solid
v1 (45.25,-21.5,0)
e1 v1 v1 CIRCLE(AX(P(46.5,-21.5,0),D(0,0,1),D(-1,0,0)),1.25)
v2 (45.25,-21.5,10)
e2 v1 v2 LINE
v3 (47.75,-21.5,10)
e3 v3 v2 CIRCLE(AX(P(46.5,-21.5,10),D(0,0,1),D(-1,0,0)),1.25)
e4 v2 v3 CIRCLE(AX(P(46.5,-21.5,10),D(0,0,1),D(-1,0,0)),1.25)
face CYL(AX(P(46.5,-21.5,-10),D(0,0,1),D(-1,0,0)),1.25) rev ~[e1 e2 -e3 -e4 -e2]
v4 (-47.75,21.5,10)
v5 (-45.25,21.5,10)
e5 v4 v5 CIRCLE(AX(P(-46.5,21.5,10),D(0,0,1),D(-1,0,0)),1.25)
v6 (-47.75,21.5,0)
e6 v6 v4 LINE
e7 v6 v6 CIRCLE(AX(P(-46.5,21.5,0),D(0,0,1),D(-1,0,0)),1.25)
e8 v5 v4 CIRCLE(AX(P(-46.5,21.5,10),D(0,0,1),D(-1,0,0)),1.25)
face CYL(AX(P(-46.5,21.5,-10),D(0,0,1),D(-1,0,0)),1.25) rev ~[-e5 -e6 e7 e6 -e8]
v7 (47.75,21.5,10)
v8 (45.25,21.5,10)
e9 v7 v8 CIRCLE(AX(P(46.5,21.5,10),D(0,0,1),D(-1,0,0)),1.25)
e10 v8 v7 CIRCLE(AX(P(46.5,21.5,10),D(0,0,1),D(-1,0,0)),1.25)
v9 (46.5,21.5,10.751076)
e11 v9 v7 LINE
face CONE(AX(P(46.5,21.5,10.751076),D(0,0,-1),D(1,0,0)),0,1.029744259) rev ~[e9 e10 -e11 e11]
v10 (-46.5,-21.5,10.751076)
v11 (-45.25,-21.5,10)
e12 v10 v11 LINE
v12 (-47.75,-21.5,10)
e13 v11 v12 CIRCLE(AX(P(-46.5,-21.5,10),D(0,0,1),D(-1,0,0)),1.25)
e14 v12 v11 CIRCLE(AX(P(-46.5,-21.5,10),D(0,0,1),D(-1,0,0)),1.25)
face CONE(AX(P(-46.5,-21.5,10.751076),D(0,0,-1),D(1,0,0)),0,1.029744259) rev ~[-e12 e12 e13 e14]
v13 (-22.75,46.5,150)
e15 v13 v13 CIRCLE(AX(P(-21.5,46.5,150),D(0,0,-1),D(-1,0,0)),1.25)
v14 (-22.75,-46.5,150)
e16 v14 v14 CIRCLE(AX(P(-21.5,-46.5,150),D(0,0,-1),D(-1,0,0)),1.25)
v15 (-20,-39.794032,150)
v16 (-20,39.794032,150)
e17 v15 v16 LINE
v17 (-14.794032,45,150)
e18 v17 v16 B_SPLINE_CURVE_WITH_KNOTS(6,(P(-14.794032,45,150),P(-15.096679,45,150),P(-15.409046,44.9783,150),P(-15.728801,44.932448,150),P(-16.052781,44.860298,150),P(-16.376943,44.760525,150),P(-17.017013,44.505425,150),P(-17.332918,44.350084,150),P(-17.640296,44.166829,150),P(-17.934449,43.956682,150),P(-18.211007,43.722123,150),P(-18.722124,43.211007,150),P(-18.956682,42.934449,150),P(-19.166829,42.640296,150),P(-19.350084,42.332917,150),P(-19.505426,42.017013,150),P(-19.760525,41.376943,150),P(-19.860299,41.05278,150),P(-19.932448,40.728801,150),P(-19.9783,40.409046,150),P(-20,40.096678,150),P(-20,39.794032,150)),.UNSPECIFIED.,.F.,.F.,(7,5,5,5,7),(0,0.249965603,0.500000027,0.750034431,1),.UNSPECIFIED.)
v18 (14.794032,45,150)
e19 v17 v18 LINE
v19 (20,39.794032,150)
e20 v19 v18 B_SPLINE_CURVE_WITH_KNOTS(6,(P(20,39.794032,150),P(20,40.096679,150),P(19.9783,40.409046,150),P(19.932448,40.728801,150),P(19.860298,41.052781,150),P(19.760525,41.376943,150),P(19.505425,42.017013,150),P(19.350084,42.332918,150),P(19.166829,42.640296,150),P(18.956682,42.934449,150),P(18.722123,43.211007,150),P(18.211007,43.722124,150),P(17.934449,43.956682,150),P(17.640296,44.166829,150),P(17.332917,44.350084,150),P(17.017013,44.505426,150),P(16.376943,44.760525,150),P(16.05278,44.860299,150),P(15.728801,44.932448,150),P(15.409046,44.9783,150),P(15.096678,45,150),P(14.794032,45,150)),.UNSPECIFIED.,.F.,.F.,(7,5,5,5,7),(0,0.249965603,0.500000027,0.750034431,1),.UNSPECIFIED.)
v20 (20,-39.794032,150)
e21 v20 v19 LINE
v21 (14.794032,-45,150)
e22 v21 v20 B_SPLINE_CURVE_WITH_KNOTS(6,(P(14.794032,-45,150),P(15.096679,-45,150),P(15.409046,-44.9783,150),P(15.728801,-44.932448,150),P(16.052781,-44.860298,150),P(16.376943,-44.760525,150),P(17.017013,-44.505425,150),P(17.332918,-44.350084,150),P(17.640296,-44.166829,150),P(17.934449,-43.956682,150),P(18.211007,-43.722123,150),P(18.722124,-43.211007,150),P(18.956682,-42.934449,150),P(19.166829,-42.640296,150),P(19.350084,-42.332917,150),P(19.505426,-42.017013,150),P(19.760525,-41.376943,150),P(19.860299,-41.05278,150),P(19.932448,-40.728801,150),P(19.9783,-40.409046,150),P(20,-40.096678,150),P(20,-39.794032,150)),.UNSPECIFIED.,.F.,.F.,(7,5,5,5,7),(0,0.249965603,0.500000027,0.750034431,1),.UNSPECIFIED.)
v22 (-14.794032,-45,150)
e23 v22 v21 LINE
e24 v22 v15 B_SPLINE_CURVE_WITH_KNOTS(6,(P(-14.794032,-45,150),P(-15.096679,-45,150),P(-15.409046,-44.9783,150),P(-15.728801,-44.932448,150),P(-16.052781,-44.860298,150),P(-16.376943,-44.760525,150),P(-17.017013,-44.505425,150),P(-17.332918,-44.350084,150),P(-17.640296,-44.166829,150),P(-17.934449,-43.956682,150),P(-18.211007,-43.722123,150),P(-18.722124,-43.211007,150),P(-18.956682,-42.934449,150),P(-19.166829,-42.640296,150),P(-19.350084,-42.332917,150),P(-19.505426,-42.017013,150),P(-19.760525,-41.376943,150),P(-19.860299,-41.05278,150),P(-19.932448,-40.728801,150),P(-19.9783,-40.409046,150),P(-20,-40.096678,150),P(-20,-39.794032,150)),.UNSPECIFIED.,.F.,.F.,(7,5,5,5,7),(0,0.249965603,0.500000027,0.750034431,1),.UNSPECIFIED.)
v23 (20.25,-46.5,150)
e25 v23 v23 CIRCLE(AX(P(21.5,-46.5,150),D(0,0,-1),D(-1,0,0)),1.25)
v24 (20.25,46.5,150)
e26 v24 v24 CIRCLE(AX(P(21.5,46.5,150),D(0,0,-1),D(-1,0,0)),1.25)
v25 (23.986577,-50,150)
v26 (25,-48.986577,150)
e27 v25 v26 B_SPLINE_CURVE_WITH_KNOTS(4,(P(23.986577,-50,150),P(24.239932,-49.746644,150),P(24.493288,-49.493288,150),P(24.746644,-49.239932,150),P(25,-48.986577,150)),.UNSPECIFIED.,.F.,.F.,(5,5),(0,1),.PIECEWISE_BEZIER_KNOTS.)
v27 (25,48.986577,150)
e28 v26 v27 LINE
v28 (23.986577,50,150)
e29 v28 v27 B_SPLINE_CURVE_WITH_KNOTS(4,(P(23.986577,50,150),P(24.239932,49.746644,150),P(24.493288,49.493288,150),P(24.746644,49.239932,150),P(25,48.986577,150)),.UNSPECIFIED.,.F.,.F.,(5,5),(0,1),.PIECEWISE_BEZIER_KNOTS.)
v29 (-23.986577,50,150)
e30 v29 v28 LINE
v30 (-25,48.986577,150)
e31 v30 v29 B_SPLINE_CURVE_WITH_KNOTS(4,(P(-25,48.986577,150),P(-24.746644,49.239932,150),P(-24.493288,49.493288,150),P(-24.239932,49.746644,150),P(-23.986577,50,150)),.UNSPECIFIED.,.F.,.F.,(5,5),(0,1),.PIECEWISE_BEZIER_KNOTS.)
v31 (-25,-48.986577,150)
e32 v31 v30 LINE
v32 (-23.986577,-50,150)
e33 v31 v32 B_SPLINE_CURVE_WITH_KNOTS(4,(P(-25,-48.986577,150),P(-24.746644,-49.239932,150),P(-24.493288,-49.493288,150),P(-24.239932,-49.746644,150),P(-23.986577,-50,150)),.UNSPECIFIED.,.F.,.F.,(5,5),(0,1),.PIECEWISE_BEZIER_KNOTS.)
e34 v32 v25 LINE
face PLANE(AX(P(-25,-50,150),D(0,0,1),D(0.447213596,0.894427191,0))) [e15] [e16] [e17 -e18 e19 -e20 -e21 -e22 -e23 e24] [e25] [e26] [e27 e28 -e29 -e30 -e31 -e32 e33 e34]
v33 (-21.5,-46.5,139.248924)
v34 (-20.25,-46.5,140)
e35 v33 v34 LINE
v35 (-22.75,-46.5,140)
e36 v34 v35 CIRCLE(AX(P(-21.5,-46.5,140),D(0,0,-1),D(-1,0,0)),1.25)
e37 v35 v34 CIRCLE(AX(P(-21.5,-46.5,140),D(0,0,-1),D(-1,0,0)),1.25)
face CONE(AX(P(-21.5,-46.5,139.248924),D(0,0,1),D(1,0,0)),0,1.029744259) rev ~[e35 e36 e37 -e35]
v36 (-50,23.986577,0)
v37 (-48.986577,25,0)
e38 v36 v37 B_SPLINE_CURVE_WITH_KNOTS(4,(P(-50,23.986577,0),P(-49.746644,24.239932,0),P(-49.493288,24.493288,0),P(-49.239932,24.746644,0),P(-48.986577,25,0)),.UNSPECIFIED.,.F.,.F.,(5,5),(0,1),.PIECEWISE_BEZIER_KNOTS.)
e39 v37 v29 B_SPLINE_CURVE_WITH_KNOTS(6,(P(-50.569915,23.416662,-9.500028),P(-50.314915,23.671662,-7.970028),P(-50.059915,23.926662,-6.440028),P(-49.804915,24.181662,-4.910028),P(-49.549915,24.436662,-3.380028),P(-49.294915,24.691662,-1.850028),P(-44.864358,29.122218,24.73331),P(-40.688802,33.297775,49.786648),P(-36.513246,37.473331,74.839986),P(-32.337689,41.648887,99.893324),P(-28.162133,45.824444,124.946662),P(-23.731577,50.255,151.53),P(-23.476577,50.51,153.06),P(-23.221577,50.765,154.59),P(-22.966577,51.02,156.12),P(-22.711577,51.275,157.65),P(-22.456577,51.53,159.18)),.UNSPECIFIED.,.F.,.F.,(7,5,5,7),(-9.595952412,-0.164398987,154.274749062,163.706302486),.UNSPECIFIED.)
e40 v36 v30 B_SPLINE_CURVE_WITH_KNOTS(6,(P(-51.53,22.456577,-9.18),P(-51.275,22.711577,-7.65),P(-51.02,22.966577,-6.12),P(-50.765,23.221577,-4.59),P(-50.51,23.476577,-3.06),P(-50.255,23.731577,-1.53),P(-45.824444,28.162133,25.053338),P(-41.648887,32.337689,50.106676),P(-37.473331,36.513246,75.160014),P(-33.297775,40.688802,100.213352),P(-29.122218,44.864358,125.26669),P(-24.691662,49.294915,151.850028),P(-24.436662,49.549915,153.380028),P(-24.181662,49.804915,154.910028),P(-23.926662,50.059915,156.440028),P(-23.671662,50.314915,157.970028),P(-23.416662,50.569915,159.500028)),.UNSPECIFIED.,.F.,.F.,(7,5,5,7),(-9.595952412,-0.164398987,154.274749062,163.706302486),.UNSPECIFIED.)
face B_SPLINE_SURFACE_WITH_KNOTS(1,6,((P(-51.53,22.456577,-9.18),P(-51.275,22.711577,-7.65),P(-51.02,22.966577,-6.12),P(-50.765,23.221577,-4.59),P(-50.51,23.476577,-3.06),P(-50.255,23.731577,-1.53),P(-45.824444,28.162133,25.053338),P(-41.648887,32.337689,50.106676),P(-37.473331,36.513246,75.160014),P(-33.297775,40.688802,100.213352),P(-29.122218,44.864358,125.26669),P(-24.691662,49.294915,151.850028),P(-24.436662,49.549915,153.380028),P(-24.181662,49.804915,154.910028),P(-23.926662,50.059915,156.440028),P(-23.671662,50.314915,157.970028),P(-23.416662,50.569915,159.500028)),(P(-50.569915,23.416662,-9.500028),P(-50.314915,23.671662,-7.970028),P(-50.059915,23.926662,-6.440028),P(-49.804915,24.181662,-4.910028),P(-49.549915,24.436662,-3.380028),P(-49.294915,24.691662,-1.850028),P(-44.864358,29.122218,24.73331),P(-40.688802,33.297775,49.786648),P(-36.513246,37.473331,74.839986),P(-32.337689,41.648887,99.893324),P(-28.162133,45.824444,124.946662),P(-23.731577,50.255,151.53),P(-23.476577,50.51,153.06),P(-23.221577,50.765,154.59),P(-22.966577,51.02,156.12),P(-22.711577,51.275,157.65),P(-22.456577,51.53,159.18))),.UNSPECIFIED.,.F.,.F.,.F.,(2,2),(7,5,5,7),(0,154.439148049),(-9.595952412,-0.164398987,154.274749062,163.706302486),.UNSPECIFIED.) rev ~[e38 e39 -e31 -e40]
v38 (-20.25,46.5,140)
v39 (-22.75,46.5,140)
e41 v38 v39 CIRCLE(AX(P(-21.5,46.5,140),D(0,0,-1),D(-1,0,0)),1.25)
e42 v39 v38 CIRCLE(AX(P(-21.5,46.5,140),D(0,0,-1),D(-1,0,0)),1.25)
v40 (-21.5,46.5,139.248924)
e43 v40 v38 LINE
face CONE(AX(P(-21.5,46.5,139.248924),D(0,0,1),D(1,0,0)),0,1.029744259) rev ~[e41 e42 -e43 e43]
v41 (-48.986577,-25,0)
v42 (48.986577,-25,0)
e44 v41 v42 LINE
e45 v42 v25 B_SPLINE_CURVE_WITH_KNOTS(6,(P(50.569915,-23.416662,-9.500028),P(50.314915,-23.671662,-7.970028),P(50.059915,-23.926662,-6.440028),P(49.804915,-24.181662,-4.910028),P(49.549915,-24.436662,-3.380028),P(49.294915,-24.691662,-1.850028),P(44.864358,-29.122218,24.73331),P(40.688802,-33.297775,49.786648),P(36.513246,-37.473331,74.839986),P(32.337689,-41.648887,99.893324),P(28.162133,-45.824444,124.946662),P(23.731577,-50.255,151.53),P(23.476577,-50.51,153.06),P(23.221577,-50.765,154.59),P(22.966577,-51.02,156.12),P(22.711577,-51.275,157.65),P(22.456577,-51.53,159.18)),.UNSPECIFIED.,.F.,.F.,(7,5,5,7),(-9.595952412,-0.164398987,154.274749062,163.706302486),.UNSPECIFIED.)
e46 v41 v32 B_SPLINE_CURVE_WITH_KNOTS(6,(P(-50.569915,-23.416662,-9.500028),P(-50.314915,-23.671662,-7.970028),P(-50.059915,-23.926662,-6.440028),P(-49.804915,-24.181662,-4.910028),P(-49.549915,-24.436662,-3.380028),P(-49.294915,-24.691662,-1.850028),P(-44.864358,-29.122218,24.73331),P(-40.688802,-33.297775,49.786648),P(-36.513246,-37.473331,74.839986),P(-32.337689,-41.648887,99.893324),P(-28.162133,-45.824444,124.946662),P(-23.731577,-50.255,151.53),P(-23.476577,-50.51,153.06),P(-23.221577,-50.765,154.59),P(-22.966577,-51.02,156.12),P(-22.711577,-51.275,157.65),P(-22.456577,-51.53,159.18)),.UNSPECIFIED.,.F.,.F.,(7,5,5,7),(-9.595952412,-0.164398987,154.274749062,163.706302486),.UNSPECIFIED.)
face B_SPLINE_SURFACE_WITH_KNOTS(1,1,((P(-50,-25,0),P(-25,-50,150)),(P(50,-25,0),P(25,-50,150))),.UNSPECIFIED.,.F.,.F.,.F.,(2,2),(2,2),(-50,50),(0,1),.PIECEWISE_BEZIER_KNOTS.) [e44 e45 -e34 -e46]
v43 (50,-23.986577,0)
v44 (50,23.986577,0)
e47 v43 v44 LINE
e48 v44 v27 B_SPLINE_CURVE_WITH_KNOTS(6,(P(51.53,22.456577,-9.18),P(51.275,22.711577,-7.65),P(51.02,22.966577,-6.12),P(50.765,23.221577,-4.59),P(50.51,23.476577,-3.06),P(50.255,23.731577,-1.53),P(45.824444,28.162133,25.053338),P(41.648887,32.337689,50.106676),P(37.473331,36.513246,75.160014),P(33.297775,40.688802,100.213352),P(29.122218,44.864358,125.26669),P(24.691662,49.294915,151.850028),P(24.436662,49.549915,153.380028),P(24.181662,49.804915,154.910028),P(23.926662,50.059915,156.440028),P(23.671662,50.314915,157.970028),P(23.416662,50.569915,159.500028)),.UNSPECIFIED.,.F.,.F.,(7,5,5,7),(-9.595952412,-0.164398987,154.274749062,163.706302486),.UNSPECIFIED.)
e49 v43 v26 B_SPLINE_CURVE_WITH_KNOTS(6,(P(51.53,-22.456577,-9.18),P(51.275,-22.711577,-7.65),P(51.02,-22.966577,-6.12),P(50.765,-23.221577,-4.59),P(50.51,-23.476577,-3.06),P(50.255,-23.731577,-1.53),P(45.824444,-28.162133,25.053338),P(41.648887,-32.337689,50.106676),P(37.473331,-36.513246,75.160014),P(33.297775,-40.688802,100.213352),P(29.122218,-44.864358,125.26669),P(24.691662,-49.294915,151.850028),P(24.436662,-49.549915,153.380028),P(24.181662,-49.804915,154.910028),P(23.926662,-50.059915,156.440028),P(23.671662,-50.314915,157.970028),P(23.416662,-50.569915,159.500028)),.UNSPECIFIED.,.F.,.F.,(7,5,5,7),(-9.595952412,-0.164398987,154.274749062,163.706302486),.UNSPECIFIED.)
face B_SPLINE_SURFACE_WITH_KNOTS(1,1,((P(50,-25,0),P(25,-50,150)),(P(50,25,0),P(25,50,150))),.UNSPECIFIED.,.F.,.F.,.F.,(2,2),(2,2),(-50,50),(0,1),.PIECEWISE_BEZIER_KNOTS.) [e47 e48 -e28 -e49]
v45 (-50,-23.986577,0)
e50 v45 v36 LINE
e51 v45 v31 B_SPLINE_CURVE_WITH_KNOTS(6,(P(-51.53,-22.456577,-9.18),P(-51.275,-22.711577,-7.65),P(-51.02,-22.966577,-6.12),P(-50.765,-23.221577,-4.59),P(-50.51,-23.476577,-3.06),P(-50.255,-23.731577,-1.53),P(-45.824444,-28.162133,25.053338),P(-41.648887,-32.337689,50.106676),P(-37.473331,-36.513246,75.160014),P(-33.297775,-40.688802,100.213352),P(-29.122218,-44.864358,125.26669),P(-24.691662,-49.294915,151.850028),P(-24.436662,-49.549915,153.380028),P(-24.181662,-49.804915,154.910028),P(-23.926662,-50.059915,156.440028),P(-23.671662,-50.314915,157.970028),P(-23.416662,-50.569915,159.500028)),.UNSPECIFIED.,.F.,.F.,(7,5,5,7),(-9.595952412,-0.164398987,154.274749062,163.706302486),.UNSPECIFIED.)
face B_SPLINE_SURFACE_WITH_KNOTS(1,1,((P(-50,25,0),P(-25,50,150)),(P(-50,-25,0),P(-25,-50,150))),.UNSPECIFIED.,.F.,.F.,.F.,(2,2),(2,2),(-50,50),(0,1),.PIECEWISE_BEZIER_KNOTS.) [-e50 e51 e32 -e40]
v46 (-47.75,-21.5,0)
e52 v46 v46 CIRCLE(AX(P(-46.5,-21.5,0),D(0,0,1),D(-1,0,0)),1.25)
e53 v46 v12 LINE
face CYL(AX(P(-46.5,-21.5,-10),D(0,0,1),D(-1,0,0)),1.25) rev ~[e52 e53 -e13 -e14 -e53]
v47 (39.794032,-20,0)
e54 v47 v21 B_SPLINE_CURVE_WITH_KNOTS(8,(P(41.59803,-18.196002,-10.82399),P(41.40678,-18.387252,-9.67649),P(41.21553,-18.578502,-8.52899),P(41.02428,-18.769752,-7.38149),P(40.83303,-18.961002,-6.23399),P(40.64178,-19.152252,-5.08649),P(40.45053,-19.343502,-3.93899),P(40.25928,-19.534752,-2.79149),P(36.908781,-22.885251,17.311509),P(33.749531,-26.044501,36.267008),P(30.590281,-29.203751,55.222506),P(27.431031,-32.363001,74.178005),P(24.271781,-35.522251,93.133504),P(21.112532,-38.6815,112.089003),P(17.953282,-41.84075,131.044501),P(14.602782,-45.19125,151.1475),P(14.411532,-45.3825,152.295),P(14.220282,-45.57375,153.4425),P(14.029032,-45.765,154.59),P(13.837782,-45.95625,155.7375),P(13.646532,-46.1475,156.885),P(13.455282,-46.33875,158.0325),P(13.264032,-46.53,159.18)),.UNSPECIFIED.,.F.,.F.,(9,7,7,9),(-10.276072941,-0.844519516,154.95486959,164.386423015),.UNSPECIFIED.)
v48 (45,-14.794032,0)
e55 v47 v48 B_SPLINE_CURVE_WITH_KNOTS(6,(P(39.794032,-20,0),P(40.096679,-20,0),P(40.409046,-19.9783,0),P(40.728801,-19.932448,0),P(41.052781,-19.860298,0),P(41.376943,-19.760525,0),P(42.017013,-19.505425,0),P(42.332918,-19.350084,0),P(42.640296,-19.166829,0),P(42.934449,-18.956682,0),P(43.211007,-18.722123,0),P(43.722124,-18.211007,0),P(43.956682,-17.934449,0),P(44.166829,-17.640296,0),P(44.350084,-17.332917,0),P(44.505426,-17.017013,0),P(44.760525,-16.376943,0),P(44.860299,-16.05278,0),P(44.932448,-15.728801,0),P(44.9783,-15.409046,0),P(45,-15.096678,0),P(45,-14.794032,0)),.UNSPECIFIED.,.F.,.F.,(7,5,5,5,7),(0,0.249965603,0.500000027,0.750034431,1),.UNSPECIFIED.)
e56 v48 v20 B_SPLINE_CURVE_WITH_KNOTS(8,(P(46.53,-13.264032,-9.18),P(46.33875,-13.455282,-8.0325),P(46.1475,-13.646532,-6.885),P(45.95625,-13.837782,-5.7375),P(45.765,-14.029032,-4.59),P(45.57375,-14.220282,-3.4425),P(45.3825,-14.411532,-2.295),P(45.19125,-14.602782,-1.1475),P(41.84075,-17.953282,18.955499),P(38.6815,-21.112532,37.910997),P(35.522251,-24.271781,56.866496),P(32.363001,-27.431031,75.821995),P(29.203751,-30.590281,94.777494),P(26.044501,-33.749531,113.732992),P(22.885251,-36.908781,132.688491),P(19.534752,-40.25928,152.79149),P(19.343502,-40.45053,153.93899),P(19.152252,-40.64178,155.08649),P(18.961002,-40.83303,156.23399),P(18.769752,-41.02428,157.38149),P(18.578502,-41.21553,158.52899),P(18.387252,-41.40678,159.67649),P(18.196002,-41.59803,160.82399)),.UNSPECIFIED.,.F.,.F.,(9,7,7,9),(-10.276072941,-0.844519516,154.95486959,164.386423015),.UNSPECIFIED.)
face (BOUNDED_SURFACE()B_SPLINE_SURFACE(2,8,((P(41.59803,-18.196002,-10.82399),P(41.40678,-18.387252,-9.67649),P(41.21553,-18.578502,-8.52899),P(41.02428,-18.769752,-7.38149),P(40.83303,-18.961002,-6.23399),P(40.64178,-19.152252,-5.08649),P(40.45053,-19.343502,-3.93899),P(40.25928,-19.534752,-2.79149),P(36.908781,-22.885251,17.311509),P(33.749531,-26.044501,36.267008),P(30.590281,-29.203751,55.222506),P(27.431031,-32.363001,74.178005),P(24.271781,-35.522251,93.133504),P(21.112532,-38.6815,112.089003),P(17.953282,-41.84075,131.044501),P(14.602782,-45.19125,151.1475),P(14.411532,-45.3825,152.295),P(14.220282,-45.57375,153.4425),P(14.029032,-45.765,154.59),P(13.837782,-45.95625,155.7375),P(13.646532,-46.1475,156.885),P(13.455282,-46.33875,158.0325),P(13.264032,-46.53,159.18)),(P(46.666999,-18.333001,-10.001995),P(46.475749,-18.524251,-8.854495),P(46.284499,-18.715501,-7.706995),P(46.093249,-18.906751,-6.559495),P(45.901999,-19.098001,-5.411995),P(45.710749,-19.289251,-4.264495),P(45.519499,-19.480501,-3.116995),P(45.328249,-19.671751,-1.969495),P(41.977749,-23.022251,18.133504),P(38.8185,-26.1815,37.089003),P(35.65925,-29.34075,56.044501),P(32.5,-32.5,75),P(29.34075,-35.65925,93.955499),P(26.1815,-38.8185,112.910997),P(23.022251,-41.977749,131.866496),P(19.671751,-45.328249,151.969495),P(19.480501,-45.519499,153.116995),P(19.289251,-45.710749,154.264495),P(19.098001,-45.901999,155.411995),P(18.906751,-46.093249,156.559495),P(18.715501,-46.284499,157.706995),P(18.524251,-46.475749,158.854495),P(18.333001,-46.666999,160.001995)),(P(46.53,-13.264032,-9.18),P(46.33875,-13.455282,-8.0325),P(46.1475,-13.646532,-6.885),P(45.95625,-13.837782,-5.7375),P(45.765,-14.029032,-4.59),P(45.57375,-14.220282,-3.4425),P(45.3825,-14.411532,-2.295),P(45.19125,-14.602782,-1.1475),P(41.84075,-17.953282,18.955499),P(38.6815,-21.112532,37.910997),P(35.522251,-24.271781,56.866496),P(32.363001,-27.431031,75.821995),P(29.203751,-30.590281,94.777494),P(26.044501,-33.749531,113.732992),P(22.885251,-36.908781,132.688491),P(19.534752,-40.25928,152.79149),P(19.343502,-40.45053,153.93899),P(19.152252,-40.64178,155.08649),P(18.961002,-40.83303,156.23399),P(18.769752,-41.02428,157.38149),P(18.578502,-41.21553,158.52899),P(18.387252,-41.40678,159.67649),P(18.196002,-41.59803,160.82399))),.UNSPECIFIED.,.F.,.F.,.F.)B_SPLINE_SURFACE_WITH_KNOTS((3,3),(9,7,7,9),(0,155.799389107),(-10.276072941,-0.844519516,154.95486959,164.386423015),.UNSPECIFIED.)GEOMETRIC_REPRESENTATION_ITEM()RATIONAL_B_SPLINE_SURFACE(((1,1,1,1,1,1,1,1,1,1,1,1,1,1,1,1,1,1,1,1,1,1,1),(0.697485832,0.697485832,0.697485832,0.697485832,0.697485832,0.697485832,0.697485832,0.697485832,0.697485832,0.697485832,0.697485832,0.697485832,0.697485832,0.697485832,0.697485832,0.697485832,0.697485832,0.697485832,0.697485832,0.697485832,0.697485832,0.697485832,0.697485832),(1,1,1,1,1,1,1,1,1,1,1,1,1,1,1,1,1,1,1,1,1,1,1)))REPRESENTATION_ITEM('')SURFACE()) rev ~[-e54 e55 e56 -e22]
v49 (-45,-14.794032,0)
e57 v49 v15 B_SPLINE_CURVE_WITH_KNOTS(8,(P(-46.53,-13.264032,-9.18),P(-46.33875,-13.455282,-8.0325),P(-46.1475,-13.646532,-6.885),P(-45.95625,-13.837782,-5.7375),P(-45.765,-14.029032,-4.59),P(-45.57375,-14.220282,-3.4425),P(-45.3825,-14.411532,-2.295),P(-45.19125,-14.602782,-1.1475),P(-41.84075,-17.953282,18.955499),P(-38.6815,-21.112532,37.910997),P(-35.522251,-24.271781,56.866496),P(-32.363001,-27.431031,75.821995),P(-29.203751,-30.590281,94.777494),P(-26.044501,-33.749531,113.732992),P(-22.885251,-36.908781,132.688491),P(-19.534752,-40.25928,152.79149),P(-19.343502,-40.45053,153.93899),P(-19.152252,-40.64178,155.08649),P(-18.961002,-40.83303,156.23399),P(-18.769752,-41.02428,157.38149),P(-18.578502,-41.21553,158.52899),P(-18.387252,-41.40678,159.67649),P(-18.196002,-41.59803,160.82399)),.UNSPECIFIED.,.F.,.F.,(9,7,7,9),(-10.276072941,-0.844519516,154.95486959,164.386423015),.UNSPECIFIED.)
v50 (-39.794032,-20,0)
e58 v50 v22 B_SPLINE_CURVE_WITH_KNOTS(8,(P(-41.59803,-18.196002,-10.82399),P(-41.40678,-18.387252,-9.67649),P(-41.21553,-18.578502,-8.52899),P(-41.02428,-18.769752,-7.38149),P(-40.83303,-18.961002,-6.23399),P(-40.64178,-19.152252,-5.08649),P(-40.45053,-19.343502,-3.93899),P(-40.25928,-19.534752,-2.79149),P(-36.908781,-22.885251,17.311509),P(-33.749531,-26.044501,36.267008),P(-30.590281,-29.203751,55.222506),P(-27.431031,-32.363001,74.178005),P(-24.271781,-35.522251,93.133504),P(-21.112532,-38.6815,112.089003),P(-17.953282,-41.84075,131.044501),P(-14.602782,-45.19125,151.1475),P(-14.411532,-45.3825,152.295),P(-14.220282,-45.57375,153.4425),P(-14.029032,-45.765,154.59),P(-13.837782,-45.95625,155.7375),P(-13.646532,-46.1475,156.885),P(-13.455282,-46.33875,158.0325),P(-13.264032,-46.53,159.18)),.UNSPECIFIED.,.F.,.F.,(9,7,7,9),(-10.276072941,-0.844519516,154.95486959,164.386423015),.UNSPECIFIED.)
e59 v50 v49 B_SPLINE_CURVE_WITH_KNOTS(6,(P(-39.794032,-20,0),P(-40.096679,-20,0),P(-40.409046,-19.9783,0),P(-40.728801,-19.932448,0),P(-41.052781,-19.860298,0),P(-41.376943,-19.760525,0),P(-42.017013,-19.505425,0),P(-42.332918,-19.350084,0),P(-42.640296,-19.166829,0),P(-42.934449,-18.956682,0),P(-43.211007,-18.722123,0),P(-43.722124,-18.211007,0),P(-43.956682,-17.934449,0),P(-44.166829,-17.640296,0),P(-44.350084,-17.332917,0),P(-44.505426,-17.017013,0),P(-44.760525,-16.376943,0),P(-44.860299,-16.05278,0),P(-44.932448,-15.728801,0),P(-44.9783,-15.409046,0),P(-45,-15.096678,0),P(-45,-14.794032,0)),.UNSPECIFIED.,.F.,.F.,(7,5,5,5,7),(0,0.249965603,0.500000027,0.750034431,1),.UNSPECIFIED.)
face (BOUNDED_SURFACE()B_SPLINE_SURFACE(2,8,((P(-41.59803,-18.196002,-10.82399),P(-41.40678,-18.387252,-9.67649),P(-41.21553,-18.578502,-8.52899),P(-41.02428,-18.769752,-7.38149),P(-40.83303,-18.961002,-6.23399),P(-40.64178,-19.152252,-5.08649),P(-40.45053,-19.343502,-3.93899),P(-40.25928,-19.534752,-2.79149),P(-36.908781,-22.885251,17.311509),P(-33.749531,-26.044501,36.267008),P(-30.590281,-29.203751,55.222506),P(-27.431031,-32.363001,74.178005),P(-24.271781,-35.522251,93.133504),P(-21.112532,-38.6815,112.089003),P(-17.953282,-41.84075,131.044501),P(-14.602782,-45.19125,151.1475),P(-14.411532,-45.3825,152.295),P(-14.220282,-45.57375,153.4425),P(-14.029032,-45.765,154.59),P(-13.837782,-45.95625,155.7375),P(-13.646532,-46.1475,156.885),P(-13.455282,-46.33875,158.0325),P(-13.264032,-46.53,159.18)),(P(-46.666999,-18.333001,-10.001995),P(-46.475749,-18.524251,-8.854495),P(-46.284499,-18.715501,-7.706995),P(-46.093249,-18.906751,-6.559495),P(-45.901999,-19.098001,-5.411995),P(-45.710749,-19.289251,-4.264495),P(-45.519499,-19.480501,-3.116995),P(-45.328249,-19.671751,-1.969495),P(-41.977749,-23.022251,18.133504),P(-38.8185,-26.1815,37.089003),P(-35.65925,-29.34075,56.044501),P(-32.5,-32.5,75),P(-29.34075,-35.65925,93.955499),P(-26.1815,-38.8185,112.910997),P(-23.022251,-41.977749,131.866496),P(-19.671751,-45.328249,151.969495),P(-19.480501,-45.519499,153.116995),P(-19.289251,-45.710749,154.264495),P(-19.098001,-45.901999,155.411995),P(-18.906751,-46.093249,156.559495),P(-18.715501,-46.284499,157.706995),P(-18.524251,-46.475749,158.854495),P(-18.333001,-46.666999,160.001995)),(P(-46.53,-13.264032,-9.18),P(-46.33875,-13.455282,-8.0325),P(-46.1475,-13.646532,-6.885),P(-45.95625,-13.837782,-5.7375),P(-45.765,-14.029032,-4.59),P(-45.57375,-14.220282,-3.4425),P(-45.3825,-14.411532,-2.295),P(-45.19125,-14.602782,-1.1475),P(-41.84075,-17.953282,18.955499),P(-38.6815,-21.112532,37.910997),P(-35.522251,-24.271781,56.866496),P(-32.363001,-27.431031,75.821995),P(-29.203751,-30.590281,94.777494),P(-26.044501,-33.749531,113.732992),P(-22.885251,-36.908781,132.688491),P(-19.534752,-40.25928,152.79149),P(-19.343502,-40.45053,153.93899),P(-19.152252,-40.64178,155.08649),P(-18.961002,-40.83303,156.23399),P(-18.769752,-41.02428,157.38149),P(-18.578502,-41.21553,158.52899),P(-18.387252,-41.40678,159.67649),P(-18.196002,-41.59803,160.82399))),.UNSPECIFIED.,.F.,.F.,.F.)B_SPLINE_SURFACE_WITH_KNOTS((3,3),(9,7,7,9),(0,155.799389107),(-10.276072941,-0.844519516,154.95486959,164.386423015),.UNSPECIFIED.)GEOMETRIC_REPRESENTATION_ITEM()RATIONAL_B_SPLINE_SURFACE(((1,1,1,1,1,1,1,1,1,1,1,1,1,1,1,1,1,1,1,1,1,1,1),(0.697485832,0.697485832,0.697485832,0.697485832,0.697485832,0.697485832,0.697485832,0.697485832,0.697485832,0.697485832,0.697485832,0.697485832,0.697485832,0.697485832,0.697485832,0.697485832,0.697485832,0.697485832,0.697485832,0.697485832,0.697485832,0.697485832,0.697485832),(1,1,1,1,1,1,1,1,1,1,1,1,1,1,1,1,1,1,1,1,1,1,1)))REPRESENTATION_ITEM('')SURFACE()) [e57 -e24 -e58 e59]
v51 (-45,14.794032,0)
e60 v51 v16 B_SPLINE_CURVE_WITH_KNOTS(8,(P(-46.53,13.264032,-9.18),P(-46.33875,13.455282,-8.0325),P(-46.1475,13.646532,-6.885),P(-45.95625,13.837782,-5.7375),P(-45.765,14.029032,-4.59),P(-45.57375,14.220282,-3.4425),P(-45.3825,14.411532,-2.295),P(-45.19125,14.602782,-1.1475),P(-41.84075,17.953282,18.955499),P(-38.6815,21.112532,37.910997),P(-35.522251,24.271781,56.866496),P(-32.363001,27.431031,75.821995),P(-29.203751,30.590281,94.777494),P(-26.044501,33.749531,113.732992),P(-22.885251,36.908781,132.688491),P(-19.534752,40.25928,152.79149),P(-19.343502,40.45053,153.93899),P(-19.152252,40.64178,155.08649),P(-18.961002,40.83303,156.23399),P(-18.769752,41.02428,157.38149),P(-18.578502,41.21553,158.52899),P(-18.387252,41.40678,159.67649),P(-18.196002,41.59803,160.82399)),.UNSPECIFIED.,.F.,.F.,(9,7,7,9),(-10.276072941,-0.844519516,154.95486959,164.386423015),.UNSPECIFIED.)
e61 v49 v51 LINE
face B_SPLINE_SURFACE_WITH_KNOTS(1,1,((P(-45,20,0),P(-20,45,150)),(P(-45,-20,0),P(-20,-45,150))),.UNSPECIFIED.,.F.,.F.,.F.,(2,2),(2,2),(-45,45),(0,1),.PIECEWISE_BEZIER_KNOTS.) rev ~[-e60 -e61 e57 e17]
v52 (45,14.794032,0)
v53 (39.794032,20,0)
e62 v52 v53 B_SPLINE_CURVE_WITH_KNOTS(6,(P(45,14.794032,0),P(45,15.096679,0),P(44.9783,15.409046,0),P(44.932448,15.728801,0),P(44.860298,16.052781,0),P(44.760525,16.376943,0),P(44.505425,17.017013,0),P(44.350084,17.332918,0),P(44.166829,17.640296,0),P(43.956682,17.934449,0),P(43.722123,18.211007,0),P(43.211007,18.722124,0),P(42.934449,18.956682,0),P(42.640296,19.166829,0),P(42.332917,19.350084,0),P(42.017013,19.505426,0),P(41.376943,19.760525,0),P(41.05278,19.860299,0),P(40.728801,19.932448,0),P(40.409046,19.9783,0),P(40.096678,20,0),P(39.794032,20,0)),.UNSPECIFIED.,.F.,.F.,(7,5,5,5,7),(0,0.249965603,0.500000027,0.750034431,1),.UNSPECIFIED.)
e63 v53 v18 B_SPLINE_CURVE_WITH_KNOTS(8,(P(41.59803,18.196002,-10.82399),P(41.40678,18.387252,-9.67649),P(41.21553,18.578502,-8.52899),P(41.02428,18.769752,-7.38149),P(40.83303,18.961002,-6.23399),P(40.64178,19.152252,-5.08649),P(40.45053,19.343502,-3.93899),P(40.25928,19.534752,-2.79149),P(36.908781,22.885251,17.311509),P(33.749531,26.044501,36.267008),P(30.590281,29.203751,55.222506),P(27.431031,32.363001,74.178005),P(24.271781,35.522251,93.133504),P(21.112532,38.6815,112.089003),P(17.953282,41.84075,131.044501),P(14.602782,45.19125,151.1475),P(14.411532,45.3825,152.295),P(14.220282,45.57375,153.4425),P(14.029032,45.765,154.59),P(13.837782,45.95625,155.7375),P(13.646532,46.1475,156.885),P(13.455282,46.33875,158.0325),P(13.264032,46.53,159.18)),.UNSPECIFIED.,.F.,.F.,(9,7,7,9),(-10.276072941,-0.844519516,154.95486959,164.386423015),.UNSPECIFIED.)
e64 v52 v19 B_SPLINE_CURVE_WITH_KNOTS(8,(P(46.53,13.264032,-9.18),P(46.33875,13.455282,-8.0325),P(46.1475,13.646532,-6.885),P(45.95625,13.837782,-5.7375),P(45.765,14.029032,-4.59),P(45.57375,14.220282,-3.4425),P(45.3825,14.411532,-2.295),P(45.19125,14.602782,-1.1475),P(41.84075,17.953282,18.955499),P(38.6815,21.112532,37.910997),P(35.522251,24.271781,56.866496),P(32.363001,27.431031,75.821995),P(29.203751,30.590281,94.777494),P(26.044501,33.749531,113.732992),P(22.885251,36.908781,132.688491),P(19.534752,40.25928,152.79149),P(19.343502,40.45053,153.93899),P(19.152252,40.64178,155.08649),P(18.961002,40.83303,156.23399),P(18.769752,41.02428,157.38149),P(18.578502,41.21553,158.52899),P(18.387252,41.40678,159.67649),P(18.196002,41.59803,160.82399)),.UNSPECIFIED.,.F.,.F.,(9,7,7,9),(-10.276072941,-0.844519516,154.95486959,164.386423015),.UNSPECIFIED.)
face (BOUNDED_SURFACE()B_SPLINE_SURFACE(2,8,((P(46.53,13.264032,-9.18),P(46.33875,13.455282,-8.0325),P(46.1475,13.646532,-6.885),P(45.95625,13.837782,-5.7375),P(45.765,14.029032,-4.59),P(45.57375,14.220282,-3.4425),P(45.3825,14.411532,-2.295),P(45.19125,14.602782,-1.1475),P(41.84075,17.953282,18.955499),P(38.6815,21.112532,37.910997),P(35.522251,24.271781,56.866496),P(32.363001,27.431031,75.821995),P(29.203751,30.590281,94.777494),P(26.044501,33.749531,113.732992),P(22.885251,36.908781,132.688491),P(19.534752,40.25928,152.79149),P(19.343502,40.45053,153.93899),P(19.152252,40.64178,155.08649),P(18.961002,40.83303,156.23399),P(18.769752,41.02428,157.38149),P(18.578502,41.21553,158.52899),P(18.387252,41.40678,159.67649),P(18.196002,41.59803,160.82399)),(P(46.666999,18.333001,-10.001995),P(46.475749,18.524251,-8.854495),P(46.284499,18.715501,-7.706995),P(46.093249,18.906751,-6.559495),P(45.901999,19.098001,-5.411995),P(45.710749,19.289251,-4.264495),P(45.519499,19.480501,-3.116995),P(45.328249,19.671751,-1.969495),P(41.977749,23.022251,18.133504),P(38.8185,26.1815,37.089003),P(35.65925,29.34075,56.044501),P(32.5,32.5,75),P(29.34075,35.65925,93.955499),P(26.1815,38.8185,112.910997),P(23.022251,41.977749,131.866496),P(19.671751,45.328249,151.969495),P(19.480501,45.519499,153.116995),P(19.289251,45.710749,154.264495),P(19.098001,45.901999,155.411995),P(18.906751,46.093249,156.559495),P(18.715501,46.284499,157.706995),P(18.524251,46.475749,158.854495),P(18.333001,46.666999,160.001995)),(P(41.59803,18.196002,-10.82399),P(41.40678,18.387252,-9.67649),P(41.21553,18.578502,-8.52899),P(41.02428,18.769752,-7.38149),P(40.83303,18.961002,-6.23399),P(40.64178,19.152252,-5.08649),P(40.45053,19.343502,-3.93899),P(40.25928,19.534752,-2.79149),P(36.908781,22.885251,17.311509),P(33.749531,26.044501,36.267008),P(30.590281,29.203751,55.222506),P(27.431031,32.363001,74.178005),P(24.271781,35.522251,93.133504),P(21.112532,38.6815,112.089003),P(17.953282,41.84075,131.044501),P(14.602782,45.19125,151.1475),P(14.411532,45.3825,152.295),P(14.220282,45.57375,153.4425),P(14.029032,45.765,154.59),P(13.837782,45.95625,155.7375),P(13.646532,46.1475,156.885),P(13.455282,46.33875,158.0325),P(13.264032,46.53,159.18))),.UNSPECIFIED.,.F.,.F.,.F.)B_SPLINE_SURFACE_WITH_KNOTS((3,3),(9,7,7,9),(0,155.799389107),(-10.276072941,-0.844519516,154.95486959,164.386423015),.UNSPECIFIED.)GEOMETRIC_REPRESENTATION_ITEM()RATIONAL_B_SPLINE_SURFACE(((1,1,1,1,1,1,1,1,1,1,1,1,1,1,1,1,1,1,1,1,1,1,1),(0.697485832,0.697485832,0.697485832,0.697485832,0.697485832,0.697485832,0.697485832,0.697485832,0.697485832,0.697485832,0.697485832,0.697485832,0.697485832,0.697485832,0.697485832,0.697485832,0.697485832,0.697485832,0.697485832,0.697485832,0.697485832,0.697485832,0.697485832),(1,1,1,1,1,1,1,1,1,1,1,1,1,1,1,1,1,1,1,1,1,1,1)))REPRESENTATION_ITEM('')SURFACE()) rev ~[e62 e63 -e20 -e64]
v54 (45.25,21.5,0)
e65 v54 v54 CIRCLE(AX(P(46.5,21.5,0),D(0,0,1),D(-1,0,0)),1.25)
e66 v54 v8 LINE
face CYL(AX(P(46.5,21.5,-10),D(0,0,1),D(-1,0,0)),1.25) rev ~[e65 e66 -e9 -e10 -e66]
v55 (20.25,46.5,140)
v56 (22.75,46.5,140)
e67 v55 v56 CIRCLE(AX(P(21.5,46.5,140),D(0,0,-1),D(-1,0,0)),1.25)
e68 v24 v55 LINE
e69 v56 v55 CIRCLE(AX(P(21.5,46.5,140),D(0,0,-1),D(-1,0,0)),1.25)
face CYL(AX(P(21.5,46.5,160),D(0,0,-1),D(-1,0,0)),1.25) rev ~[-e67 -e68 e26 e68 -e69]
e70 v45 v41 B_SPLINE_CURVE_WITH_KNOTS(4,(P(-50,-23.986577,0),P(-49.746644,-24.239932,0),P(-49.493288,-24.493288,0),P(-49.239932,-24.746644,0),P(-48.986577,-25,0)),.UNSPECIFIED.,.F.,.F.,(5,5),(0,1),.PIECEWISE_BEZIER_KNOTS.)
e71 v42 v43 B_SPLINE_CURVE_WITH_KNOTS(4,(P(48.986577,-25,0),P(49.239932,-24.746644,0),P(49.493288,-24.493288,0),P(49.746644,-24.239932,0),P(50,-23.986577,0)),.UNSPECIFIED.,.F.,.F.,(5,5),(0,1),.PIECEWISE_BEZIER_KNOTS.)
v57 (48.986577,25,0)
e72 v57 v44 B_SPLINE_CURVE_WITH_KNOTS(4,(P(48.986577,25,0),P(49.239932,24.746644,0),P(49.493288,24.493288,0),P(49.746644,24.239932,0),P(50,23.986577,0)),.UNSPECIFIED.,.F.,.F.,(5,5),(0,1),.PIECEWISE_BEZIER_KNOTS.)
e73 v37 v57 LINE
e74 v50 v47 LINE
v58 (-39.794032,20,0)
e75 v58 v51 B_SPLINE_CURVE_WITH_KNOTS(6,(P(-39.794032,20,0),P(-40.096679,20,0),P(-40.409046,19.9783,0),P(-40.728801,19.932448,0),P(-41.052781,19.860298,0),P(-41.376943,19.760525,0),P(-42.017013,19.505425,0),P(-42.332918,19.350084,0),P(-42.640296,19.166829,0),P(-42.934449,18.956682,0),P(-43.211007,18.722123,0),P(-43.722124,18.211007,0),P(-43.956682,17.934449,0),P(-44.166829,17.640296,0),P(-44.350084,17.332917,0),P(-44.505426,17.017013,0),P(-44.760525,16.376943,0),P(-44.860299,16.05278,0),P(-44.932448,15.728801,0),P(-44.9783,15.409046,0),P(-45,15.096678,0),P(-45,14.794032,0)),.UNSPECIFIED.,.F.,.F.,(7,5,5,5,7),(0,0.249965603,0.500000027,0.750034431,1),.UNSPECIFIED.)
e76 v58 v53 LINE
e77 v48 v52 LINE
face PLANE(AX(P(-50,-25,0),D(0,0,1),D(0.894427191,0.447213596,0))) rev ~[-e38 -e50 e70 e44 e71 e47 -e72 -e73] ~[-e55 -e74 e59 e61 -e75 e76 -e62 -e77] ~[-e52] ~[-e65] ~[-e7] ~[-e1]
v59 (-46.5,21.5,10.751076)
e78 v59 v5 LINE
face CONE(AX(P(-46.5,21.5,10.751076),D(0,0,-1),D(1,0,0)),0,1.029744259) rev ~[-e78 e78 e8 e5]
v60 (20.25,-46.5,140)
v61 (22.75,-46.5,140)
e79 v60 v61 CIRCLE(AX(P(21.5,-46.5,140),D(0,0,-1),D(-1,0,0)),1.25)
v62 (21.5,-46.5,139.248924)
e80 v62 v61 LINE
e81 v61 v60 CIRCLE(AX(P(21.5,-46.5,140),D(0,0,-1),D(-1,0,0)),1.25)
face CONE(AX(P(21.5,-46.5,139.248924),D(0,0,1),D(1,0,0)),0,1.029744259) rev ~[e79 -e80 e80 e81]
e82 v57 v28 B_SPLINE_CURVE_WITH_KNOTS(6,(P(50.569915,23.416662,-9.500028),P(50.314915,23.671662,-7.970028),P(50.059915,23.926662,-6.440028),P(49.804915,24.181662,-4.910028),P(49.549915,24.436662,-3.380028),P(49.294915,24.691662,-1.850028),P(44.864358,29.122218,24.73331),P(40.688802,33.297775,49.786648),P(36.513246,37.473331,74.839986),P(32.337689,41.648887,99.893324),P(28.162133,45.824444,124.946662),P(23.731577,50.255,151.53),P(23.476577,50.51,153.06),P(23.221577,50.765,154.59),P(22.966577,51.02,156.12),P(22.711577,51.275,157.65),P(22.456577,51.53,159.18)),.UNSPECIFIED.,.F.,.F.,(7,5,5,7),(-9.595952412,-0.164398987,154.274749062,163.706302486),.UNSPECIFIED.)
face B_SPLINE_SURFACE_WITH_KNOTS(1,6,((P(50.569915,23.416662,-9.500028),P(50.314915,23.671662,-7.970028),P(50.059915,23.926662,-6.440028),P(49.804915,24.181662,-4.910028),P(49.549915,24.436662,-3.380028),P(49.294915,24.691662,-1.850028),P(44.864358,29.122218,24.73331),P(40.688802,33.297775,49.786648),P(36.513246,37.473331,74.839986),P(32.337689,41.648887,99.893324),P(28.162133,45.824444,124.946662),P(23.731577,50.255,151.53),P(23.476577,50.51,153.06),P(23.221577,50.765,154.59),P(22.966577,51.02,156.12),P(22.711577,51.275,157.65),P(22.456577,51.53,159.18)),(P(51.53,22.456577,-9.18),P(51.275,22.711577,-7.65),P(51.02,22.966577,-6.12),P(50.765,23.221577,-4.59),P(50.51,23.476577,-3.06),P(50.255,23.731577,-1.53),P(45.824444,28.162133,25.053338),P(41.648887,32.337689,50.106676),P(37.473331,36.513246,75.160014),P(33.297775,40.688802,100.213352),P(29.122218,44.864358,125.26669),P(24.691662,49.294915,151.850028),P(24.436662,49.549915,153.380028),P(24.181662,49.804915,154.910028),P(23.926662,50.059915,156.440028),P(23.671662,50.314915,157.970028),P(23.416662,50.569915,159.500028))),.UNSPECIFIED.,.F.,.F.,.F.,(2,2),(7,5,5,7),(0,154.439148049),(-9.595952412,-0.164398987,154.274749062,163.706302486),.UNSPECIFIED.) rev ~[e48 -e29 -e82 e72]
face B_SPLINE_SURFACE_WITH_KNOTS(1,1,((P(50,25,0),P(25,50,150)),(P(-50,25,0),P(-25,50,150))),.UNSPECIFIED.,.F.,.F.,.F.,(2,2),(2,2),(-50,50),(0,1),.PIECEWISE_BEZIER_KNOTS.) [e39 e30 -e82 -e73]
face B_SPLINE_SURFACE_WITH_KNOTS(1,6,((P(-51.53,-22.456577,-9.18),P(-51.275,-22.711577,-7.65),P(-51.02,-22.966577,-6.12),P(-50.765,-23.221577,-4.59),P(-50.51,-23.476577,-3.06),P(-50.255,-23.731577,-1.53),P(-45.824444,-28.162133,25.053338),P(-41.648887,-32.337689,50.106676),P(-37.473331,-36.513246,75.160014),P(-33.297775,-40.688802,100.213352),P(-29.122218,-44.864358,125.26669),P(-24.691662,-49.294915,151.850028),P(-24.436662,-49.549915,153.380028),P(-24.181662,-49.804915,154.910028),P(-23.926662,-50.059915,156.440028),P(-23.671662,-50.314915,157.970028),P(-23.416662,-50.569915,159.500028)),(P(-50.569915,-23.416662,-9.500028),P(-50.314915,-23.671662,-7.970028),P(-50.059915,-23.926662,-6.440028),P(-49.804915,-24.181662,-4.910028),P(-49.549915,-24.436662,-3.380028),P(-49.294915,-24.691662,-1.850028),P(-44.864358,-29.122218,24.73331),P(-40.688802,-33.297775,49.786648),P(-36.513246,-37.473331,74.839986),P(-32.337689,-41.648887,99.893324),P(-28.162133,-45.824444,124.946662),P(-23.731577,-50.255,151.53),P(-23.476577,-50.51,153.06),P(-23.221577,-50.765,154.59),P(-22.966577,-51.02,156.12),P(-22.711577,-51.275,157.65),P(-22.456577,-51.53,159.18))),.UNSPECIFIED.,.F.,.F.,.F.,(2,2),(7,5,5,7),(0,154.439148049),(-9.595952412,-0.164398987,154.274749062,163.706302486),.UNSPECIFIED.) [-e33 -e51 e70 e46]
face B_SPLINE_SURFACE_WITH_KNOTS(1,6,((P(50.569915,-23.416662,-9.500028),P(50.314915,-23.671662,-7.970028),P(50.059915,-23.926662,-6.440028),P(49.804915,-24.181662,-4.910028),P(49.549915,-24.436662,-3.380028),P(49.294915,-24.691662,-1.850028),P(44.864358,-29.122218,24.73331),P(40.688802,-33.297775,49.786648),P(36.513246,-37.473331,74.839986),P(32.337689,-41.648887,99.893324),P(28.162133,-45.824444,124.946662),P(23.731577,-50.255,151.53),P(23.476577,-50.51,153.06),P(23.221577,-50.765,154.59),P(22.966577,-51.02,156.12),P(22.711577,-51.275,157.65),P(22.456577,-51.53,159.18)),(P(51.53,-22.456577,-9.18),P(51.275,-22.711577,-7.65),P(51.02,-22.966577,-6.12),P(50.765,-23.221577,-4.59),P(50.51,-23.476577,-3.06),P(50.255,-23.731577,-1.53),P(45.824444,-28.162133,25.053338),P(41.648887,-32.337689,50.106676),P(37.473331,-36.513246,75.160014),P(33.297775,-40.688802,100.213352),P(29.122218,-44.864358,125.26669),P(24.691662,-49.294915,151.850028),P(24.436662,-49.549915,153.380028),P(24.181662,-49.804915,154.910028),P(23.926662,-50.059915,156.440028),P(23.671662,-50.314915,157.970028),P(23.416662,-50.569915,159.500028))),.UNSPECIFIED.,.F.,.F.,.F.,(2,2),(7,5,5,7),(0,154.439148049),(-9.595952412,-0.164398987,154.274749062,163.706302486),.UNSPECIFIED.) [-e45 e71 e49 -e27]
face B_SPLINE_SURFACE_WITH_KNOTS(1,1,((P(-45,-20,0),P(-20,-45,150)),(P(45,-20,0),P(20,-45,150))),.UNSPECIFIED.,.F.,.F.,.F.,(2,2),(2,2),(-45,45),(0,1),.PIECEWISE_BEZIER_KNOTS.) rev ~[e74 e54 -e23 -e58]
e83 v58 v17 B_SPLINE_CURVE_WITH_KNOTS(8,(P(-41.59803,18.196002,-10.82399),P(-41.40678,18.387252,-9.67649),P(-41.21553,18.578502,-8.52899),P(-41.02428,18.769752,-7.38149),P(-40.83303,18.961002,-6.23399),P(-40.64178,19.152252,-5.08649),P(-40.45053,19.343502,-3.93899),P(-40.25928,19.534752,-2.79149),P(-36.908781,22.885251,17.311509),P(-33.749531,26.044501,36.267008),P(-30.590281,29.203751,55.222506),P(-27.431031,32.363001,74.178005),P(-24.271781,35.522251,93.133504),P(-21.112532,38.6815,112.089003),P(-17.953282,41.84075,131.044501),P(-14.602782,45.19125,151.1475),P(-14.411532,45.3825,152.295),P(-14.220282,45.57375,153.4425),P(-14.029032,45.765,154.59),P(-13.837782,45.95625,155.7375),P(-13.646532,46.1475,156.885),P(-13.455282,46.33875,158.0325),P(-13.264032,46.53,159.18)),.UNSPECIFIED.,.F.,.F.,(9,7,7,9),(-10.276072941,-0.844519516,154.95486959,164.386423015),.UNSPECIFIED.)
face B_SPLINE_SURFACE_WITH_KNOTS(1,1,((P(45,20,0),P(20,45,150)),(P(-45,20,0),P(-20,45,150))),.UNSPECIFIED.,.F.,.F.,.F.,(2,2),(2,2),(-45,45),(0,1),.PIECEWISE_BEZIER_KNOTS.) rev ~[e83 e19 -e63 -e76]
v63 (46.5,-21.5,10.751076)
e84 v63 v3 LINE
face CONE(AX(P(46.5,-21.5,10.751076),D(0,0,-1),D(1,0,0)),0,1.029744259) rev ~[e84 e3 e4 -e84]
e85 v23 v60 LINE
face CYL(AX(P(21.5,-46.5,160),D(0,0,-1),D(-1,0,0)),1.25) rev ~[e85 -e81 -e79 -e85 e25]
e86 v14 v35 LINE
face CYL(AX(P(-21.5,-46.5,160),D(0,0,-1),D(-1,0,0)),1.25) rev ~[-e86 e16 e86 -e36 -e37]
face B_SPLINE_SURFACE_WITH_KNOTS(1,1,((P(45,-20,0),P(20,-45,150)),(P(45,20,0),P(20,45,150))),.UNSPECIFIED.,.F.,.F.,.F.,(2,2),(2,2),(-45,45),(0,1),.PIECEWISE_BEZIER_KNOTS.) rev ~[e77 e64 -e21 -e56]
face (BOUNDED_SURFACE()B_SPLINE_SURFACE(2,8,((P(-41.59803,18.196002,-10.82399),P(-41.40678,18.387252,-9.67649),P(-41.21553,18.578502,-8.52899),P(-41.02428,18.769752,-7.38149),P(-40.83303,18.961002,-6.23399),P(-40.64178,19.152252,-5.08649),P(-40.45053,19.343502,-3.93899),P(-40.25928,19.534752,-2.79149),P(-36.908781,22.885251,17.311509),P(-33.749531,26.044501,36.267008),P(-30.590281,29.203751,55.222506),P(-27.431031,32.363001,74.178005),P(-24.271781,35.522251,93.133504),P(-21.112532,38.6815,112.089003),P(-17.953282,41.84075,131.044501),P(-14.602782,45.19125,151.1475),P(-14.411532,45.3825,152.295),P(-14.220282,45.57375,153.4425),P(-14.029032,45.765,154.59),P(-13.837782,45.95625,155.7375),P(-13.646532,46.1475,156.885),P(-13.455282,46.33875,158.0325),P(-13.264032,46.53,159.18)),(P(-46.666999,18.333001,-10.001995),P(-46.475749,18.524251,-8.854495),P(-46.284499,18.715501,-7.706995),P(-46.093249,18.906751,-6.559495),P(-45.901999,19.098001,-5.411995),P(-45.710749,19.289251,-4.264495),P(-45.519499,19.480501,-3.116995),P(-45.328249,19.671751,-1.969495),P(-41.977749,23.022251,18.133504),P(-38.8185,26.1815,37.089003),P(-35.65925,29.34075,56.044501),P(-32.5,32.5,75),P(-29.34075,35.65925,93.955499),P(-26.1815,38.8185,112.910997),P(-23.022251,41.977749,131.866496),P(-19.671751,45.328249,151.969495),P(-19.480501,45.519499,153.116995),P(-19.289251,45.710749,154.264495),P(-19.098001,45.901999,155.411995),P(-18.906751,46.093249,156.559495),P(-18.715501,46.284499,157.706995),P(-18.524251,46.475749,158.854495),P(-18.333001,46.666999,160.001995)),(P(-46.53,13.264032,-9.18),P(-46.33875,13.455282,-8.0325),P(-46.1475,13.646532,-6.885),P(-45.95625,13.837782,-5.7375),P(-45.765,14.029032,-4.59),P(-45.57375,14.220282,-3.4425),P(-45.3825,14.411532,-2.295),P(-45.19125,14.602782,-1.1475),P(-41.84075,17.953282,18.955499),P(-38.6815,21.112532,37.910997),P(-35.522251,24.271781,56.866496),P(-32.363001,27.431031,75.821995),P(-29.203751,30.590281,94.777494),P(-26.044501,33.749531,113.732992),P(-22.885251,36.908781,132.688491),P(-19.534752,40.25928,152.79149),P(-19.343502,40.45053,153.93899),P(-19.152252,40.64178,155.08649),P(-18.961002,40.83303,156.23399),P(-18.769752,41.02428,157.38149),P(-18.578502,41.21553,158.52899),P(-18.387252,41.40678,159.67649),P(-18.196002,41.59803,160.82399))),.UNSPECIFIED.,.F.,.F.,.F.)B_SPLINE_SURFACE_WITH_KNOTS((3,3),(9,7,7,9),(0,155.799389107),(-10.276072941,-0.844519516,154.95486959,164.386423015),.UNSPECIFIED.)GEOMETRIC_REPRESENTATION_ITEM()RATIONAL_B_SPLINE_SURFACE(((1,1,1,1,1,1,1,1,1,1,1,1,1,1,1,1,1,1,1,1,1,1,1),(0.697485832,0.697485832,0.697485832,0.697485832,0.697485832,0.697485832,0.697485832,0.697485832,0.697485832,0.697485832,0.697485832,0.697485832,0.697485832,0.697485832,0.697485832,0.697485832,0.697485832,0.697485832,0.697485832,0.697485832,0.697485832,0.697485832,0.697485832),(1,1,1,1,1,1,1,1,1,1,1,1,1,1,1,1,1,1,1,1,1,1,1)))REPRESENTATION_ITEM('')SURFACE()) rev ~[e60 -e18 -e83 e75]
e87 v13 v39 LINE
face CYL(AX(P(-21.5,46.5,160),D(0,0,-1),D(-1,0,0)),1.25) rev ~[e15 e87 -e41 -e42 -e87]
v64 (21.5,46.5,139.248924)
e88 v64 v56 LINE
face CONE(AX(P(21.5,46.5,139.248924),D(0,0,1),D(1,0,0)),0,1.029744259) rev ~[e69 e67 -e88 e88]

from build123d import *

# Parameters (mm, degrees)
F1_W      = 100
F1_H      = 50
F3_W      = 50
F3_H      = 100
F2_W      = 90
F2_H      = 40
F4_W      = 40
F4_H      = 90
F7_R      = 5
F8_SIZE   = 1
F9_D      = 2.5
F9_DEPTH  = 10
F9_TIP    = 0.7510757738
F10_D     = 2.5
F10_DEPTH = 10
F10_TIP   = 0.7510757738


with BuildPart() as f5:
    # F1 (on Top) → F5 section 0
    with BuildSketch(Plane.XY):
        Rectangle(F1_W, F1_H)
    # F3 (on offset) → F5 section 1
    with BuildSketch(Plane.XY.offset(150)):
        Rectangle(F3_W, F3_H)
    loft()

    # F2 (on Top) → F6 section 0
    with BuildSketch(Plane.XY):
        Rectangle(F2_W, F2_H)
    # F4 (on offset) → F6 section 1
    with BuildSketch(Plane.XY.offset(150)):
        Rectangle(F4_W, F4_H)
    loft(mode=Mode.SUBTRACT)

    # F7
    f7_edges = [f5.edges().sort_by_distance(p)[0] for p in [
        (-32.5, 32.5, 75),
        (32.5, 32.5, 75),
        (32.5, -32.5, 75),
        (-32.5, -32.5, 75),
    ]]
    fillet(f7_edges, radius=F7_R)

    # F8
    f8_edges = [f5.edges().sort_by_distance(p)[0] for p in [
        (37.5, 37.5, 75),
        (-37.5, 37.5, 75),
        (37.5, -37.5, 75),
        (-37.5, -37.5, 75),
    ]]
    chamfer(f8_edges, length=F8_SIZE)

    # F9
    with Locations(Plane.XY.offset(150)):
        with Locations((21.5, 46.5), (21.5, -46.5), (-21.5, -46.5), (-21.5, 46.5)):
            Hole(F9_D / 2, depth=F9_DEPTH)
            with Locations((0, 0, -(F9_DEPTH + F9_TIP / 2))):  # 118° drill point
                Cone(0, F9_D / 2, F9_TIP, mode=Mode.SUBTRACT)

    # F10
    with Locations(Plane(origin=(0, 0, 0), x_dir=(1, 0, 0), z_dir=(0, 0, -1))):
        with Locations((46.5, -21.5), (-46.5, -21.5), (-46.5, 21.5), (46.5, 21.5)):
            Hole(F10_D / 2, depth=F10_DEPTH)
            with Locations((0, 0, -(F10_DEPTH + F10_TIP / 2))):  # 118° drill point
                Cone(0, F10_D / 2, F10_TIP, mode=Mode.SUBTRACT)


solid = f5.part
